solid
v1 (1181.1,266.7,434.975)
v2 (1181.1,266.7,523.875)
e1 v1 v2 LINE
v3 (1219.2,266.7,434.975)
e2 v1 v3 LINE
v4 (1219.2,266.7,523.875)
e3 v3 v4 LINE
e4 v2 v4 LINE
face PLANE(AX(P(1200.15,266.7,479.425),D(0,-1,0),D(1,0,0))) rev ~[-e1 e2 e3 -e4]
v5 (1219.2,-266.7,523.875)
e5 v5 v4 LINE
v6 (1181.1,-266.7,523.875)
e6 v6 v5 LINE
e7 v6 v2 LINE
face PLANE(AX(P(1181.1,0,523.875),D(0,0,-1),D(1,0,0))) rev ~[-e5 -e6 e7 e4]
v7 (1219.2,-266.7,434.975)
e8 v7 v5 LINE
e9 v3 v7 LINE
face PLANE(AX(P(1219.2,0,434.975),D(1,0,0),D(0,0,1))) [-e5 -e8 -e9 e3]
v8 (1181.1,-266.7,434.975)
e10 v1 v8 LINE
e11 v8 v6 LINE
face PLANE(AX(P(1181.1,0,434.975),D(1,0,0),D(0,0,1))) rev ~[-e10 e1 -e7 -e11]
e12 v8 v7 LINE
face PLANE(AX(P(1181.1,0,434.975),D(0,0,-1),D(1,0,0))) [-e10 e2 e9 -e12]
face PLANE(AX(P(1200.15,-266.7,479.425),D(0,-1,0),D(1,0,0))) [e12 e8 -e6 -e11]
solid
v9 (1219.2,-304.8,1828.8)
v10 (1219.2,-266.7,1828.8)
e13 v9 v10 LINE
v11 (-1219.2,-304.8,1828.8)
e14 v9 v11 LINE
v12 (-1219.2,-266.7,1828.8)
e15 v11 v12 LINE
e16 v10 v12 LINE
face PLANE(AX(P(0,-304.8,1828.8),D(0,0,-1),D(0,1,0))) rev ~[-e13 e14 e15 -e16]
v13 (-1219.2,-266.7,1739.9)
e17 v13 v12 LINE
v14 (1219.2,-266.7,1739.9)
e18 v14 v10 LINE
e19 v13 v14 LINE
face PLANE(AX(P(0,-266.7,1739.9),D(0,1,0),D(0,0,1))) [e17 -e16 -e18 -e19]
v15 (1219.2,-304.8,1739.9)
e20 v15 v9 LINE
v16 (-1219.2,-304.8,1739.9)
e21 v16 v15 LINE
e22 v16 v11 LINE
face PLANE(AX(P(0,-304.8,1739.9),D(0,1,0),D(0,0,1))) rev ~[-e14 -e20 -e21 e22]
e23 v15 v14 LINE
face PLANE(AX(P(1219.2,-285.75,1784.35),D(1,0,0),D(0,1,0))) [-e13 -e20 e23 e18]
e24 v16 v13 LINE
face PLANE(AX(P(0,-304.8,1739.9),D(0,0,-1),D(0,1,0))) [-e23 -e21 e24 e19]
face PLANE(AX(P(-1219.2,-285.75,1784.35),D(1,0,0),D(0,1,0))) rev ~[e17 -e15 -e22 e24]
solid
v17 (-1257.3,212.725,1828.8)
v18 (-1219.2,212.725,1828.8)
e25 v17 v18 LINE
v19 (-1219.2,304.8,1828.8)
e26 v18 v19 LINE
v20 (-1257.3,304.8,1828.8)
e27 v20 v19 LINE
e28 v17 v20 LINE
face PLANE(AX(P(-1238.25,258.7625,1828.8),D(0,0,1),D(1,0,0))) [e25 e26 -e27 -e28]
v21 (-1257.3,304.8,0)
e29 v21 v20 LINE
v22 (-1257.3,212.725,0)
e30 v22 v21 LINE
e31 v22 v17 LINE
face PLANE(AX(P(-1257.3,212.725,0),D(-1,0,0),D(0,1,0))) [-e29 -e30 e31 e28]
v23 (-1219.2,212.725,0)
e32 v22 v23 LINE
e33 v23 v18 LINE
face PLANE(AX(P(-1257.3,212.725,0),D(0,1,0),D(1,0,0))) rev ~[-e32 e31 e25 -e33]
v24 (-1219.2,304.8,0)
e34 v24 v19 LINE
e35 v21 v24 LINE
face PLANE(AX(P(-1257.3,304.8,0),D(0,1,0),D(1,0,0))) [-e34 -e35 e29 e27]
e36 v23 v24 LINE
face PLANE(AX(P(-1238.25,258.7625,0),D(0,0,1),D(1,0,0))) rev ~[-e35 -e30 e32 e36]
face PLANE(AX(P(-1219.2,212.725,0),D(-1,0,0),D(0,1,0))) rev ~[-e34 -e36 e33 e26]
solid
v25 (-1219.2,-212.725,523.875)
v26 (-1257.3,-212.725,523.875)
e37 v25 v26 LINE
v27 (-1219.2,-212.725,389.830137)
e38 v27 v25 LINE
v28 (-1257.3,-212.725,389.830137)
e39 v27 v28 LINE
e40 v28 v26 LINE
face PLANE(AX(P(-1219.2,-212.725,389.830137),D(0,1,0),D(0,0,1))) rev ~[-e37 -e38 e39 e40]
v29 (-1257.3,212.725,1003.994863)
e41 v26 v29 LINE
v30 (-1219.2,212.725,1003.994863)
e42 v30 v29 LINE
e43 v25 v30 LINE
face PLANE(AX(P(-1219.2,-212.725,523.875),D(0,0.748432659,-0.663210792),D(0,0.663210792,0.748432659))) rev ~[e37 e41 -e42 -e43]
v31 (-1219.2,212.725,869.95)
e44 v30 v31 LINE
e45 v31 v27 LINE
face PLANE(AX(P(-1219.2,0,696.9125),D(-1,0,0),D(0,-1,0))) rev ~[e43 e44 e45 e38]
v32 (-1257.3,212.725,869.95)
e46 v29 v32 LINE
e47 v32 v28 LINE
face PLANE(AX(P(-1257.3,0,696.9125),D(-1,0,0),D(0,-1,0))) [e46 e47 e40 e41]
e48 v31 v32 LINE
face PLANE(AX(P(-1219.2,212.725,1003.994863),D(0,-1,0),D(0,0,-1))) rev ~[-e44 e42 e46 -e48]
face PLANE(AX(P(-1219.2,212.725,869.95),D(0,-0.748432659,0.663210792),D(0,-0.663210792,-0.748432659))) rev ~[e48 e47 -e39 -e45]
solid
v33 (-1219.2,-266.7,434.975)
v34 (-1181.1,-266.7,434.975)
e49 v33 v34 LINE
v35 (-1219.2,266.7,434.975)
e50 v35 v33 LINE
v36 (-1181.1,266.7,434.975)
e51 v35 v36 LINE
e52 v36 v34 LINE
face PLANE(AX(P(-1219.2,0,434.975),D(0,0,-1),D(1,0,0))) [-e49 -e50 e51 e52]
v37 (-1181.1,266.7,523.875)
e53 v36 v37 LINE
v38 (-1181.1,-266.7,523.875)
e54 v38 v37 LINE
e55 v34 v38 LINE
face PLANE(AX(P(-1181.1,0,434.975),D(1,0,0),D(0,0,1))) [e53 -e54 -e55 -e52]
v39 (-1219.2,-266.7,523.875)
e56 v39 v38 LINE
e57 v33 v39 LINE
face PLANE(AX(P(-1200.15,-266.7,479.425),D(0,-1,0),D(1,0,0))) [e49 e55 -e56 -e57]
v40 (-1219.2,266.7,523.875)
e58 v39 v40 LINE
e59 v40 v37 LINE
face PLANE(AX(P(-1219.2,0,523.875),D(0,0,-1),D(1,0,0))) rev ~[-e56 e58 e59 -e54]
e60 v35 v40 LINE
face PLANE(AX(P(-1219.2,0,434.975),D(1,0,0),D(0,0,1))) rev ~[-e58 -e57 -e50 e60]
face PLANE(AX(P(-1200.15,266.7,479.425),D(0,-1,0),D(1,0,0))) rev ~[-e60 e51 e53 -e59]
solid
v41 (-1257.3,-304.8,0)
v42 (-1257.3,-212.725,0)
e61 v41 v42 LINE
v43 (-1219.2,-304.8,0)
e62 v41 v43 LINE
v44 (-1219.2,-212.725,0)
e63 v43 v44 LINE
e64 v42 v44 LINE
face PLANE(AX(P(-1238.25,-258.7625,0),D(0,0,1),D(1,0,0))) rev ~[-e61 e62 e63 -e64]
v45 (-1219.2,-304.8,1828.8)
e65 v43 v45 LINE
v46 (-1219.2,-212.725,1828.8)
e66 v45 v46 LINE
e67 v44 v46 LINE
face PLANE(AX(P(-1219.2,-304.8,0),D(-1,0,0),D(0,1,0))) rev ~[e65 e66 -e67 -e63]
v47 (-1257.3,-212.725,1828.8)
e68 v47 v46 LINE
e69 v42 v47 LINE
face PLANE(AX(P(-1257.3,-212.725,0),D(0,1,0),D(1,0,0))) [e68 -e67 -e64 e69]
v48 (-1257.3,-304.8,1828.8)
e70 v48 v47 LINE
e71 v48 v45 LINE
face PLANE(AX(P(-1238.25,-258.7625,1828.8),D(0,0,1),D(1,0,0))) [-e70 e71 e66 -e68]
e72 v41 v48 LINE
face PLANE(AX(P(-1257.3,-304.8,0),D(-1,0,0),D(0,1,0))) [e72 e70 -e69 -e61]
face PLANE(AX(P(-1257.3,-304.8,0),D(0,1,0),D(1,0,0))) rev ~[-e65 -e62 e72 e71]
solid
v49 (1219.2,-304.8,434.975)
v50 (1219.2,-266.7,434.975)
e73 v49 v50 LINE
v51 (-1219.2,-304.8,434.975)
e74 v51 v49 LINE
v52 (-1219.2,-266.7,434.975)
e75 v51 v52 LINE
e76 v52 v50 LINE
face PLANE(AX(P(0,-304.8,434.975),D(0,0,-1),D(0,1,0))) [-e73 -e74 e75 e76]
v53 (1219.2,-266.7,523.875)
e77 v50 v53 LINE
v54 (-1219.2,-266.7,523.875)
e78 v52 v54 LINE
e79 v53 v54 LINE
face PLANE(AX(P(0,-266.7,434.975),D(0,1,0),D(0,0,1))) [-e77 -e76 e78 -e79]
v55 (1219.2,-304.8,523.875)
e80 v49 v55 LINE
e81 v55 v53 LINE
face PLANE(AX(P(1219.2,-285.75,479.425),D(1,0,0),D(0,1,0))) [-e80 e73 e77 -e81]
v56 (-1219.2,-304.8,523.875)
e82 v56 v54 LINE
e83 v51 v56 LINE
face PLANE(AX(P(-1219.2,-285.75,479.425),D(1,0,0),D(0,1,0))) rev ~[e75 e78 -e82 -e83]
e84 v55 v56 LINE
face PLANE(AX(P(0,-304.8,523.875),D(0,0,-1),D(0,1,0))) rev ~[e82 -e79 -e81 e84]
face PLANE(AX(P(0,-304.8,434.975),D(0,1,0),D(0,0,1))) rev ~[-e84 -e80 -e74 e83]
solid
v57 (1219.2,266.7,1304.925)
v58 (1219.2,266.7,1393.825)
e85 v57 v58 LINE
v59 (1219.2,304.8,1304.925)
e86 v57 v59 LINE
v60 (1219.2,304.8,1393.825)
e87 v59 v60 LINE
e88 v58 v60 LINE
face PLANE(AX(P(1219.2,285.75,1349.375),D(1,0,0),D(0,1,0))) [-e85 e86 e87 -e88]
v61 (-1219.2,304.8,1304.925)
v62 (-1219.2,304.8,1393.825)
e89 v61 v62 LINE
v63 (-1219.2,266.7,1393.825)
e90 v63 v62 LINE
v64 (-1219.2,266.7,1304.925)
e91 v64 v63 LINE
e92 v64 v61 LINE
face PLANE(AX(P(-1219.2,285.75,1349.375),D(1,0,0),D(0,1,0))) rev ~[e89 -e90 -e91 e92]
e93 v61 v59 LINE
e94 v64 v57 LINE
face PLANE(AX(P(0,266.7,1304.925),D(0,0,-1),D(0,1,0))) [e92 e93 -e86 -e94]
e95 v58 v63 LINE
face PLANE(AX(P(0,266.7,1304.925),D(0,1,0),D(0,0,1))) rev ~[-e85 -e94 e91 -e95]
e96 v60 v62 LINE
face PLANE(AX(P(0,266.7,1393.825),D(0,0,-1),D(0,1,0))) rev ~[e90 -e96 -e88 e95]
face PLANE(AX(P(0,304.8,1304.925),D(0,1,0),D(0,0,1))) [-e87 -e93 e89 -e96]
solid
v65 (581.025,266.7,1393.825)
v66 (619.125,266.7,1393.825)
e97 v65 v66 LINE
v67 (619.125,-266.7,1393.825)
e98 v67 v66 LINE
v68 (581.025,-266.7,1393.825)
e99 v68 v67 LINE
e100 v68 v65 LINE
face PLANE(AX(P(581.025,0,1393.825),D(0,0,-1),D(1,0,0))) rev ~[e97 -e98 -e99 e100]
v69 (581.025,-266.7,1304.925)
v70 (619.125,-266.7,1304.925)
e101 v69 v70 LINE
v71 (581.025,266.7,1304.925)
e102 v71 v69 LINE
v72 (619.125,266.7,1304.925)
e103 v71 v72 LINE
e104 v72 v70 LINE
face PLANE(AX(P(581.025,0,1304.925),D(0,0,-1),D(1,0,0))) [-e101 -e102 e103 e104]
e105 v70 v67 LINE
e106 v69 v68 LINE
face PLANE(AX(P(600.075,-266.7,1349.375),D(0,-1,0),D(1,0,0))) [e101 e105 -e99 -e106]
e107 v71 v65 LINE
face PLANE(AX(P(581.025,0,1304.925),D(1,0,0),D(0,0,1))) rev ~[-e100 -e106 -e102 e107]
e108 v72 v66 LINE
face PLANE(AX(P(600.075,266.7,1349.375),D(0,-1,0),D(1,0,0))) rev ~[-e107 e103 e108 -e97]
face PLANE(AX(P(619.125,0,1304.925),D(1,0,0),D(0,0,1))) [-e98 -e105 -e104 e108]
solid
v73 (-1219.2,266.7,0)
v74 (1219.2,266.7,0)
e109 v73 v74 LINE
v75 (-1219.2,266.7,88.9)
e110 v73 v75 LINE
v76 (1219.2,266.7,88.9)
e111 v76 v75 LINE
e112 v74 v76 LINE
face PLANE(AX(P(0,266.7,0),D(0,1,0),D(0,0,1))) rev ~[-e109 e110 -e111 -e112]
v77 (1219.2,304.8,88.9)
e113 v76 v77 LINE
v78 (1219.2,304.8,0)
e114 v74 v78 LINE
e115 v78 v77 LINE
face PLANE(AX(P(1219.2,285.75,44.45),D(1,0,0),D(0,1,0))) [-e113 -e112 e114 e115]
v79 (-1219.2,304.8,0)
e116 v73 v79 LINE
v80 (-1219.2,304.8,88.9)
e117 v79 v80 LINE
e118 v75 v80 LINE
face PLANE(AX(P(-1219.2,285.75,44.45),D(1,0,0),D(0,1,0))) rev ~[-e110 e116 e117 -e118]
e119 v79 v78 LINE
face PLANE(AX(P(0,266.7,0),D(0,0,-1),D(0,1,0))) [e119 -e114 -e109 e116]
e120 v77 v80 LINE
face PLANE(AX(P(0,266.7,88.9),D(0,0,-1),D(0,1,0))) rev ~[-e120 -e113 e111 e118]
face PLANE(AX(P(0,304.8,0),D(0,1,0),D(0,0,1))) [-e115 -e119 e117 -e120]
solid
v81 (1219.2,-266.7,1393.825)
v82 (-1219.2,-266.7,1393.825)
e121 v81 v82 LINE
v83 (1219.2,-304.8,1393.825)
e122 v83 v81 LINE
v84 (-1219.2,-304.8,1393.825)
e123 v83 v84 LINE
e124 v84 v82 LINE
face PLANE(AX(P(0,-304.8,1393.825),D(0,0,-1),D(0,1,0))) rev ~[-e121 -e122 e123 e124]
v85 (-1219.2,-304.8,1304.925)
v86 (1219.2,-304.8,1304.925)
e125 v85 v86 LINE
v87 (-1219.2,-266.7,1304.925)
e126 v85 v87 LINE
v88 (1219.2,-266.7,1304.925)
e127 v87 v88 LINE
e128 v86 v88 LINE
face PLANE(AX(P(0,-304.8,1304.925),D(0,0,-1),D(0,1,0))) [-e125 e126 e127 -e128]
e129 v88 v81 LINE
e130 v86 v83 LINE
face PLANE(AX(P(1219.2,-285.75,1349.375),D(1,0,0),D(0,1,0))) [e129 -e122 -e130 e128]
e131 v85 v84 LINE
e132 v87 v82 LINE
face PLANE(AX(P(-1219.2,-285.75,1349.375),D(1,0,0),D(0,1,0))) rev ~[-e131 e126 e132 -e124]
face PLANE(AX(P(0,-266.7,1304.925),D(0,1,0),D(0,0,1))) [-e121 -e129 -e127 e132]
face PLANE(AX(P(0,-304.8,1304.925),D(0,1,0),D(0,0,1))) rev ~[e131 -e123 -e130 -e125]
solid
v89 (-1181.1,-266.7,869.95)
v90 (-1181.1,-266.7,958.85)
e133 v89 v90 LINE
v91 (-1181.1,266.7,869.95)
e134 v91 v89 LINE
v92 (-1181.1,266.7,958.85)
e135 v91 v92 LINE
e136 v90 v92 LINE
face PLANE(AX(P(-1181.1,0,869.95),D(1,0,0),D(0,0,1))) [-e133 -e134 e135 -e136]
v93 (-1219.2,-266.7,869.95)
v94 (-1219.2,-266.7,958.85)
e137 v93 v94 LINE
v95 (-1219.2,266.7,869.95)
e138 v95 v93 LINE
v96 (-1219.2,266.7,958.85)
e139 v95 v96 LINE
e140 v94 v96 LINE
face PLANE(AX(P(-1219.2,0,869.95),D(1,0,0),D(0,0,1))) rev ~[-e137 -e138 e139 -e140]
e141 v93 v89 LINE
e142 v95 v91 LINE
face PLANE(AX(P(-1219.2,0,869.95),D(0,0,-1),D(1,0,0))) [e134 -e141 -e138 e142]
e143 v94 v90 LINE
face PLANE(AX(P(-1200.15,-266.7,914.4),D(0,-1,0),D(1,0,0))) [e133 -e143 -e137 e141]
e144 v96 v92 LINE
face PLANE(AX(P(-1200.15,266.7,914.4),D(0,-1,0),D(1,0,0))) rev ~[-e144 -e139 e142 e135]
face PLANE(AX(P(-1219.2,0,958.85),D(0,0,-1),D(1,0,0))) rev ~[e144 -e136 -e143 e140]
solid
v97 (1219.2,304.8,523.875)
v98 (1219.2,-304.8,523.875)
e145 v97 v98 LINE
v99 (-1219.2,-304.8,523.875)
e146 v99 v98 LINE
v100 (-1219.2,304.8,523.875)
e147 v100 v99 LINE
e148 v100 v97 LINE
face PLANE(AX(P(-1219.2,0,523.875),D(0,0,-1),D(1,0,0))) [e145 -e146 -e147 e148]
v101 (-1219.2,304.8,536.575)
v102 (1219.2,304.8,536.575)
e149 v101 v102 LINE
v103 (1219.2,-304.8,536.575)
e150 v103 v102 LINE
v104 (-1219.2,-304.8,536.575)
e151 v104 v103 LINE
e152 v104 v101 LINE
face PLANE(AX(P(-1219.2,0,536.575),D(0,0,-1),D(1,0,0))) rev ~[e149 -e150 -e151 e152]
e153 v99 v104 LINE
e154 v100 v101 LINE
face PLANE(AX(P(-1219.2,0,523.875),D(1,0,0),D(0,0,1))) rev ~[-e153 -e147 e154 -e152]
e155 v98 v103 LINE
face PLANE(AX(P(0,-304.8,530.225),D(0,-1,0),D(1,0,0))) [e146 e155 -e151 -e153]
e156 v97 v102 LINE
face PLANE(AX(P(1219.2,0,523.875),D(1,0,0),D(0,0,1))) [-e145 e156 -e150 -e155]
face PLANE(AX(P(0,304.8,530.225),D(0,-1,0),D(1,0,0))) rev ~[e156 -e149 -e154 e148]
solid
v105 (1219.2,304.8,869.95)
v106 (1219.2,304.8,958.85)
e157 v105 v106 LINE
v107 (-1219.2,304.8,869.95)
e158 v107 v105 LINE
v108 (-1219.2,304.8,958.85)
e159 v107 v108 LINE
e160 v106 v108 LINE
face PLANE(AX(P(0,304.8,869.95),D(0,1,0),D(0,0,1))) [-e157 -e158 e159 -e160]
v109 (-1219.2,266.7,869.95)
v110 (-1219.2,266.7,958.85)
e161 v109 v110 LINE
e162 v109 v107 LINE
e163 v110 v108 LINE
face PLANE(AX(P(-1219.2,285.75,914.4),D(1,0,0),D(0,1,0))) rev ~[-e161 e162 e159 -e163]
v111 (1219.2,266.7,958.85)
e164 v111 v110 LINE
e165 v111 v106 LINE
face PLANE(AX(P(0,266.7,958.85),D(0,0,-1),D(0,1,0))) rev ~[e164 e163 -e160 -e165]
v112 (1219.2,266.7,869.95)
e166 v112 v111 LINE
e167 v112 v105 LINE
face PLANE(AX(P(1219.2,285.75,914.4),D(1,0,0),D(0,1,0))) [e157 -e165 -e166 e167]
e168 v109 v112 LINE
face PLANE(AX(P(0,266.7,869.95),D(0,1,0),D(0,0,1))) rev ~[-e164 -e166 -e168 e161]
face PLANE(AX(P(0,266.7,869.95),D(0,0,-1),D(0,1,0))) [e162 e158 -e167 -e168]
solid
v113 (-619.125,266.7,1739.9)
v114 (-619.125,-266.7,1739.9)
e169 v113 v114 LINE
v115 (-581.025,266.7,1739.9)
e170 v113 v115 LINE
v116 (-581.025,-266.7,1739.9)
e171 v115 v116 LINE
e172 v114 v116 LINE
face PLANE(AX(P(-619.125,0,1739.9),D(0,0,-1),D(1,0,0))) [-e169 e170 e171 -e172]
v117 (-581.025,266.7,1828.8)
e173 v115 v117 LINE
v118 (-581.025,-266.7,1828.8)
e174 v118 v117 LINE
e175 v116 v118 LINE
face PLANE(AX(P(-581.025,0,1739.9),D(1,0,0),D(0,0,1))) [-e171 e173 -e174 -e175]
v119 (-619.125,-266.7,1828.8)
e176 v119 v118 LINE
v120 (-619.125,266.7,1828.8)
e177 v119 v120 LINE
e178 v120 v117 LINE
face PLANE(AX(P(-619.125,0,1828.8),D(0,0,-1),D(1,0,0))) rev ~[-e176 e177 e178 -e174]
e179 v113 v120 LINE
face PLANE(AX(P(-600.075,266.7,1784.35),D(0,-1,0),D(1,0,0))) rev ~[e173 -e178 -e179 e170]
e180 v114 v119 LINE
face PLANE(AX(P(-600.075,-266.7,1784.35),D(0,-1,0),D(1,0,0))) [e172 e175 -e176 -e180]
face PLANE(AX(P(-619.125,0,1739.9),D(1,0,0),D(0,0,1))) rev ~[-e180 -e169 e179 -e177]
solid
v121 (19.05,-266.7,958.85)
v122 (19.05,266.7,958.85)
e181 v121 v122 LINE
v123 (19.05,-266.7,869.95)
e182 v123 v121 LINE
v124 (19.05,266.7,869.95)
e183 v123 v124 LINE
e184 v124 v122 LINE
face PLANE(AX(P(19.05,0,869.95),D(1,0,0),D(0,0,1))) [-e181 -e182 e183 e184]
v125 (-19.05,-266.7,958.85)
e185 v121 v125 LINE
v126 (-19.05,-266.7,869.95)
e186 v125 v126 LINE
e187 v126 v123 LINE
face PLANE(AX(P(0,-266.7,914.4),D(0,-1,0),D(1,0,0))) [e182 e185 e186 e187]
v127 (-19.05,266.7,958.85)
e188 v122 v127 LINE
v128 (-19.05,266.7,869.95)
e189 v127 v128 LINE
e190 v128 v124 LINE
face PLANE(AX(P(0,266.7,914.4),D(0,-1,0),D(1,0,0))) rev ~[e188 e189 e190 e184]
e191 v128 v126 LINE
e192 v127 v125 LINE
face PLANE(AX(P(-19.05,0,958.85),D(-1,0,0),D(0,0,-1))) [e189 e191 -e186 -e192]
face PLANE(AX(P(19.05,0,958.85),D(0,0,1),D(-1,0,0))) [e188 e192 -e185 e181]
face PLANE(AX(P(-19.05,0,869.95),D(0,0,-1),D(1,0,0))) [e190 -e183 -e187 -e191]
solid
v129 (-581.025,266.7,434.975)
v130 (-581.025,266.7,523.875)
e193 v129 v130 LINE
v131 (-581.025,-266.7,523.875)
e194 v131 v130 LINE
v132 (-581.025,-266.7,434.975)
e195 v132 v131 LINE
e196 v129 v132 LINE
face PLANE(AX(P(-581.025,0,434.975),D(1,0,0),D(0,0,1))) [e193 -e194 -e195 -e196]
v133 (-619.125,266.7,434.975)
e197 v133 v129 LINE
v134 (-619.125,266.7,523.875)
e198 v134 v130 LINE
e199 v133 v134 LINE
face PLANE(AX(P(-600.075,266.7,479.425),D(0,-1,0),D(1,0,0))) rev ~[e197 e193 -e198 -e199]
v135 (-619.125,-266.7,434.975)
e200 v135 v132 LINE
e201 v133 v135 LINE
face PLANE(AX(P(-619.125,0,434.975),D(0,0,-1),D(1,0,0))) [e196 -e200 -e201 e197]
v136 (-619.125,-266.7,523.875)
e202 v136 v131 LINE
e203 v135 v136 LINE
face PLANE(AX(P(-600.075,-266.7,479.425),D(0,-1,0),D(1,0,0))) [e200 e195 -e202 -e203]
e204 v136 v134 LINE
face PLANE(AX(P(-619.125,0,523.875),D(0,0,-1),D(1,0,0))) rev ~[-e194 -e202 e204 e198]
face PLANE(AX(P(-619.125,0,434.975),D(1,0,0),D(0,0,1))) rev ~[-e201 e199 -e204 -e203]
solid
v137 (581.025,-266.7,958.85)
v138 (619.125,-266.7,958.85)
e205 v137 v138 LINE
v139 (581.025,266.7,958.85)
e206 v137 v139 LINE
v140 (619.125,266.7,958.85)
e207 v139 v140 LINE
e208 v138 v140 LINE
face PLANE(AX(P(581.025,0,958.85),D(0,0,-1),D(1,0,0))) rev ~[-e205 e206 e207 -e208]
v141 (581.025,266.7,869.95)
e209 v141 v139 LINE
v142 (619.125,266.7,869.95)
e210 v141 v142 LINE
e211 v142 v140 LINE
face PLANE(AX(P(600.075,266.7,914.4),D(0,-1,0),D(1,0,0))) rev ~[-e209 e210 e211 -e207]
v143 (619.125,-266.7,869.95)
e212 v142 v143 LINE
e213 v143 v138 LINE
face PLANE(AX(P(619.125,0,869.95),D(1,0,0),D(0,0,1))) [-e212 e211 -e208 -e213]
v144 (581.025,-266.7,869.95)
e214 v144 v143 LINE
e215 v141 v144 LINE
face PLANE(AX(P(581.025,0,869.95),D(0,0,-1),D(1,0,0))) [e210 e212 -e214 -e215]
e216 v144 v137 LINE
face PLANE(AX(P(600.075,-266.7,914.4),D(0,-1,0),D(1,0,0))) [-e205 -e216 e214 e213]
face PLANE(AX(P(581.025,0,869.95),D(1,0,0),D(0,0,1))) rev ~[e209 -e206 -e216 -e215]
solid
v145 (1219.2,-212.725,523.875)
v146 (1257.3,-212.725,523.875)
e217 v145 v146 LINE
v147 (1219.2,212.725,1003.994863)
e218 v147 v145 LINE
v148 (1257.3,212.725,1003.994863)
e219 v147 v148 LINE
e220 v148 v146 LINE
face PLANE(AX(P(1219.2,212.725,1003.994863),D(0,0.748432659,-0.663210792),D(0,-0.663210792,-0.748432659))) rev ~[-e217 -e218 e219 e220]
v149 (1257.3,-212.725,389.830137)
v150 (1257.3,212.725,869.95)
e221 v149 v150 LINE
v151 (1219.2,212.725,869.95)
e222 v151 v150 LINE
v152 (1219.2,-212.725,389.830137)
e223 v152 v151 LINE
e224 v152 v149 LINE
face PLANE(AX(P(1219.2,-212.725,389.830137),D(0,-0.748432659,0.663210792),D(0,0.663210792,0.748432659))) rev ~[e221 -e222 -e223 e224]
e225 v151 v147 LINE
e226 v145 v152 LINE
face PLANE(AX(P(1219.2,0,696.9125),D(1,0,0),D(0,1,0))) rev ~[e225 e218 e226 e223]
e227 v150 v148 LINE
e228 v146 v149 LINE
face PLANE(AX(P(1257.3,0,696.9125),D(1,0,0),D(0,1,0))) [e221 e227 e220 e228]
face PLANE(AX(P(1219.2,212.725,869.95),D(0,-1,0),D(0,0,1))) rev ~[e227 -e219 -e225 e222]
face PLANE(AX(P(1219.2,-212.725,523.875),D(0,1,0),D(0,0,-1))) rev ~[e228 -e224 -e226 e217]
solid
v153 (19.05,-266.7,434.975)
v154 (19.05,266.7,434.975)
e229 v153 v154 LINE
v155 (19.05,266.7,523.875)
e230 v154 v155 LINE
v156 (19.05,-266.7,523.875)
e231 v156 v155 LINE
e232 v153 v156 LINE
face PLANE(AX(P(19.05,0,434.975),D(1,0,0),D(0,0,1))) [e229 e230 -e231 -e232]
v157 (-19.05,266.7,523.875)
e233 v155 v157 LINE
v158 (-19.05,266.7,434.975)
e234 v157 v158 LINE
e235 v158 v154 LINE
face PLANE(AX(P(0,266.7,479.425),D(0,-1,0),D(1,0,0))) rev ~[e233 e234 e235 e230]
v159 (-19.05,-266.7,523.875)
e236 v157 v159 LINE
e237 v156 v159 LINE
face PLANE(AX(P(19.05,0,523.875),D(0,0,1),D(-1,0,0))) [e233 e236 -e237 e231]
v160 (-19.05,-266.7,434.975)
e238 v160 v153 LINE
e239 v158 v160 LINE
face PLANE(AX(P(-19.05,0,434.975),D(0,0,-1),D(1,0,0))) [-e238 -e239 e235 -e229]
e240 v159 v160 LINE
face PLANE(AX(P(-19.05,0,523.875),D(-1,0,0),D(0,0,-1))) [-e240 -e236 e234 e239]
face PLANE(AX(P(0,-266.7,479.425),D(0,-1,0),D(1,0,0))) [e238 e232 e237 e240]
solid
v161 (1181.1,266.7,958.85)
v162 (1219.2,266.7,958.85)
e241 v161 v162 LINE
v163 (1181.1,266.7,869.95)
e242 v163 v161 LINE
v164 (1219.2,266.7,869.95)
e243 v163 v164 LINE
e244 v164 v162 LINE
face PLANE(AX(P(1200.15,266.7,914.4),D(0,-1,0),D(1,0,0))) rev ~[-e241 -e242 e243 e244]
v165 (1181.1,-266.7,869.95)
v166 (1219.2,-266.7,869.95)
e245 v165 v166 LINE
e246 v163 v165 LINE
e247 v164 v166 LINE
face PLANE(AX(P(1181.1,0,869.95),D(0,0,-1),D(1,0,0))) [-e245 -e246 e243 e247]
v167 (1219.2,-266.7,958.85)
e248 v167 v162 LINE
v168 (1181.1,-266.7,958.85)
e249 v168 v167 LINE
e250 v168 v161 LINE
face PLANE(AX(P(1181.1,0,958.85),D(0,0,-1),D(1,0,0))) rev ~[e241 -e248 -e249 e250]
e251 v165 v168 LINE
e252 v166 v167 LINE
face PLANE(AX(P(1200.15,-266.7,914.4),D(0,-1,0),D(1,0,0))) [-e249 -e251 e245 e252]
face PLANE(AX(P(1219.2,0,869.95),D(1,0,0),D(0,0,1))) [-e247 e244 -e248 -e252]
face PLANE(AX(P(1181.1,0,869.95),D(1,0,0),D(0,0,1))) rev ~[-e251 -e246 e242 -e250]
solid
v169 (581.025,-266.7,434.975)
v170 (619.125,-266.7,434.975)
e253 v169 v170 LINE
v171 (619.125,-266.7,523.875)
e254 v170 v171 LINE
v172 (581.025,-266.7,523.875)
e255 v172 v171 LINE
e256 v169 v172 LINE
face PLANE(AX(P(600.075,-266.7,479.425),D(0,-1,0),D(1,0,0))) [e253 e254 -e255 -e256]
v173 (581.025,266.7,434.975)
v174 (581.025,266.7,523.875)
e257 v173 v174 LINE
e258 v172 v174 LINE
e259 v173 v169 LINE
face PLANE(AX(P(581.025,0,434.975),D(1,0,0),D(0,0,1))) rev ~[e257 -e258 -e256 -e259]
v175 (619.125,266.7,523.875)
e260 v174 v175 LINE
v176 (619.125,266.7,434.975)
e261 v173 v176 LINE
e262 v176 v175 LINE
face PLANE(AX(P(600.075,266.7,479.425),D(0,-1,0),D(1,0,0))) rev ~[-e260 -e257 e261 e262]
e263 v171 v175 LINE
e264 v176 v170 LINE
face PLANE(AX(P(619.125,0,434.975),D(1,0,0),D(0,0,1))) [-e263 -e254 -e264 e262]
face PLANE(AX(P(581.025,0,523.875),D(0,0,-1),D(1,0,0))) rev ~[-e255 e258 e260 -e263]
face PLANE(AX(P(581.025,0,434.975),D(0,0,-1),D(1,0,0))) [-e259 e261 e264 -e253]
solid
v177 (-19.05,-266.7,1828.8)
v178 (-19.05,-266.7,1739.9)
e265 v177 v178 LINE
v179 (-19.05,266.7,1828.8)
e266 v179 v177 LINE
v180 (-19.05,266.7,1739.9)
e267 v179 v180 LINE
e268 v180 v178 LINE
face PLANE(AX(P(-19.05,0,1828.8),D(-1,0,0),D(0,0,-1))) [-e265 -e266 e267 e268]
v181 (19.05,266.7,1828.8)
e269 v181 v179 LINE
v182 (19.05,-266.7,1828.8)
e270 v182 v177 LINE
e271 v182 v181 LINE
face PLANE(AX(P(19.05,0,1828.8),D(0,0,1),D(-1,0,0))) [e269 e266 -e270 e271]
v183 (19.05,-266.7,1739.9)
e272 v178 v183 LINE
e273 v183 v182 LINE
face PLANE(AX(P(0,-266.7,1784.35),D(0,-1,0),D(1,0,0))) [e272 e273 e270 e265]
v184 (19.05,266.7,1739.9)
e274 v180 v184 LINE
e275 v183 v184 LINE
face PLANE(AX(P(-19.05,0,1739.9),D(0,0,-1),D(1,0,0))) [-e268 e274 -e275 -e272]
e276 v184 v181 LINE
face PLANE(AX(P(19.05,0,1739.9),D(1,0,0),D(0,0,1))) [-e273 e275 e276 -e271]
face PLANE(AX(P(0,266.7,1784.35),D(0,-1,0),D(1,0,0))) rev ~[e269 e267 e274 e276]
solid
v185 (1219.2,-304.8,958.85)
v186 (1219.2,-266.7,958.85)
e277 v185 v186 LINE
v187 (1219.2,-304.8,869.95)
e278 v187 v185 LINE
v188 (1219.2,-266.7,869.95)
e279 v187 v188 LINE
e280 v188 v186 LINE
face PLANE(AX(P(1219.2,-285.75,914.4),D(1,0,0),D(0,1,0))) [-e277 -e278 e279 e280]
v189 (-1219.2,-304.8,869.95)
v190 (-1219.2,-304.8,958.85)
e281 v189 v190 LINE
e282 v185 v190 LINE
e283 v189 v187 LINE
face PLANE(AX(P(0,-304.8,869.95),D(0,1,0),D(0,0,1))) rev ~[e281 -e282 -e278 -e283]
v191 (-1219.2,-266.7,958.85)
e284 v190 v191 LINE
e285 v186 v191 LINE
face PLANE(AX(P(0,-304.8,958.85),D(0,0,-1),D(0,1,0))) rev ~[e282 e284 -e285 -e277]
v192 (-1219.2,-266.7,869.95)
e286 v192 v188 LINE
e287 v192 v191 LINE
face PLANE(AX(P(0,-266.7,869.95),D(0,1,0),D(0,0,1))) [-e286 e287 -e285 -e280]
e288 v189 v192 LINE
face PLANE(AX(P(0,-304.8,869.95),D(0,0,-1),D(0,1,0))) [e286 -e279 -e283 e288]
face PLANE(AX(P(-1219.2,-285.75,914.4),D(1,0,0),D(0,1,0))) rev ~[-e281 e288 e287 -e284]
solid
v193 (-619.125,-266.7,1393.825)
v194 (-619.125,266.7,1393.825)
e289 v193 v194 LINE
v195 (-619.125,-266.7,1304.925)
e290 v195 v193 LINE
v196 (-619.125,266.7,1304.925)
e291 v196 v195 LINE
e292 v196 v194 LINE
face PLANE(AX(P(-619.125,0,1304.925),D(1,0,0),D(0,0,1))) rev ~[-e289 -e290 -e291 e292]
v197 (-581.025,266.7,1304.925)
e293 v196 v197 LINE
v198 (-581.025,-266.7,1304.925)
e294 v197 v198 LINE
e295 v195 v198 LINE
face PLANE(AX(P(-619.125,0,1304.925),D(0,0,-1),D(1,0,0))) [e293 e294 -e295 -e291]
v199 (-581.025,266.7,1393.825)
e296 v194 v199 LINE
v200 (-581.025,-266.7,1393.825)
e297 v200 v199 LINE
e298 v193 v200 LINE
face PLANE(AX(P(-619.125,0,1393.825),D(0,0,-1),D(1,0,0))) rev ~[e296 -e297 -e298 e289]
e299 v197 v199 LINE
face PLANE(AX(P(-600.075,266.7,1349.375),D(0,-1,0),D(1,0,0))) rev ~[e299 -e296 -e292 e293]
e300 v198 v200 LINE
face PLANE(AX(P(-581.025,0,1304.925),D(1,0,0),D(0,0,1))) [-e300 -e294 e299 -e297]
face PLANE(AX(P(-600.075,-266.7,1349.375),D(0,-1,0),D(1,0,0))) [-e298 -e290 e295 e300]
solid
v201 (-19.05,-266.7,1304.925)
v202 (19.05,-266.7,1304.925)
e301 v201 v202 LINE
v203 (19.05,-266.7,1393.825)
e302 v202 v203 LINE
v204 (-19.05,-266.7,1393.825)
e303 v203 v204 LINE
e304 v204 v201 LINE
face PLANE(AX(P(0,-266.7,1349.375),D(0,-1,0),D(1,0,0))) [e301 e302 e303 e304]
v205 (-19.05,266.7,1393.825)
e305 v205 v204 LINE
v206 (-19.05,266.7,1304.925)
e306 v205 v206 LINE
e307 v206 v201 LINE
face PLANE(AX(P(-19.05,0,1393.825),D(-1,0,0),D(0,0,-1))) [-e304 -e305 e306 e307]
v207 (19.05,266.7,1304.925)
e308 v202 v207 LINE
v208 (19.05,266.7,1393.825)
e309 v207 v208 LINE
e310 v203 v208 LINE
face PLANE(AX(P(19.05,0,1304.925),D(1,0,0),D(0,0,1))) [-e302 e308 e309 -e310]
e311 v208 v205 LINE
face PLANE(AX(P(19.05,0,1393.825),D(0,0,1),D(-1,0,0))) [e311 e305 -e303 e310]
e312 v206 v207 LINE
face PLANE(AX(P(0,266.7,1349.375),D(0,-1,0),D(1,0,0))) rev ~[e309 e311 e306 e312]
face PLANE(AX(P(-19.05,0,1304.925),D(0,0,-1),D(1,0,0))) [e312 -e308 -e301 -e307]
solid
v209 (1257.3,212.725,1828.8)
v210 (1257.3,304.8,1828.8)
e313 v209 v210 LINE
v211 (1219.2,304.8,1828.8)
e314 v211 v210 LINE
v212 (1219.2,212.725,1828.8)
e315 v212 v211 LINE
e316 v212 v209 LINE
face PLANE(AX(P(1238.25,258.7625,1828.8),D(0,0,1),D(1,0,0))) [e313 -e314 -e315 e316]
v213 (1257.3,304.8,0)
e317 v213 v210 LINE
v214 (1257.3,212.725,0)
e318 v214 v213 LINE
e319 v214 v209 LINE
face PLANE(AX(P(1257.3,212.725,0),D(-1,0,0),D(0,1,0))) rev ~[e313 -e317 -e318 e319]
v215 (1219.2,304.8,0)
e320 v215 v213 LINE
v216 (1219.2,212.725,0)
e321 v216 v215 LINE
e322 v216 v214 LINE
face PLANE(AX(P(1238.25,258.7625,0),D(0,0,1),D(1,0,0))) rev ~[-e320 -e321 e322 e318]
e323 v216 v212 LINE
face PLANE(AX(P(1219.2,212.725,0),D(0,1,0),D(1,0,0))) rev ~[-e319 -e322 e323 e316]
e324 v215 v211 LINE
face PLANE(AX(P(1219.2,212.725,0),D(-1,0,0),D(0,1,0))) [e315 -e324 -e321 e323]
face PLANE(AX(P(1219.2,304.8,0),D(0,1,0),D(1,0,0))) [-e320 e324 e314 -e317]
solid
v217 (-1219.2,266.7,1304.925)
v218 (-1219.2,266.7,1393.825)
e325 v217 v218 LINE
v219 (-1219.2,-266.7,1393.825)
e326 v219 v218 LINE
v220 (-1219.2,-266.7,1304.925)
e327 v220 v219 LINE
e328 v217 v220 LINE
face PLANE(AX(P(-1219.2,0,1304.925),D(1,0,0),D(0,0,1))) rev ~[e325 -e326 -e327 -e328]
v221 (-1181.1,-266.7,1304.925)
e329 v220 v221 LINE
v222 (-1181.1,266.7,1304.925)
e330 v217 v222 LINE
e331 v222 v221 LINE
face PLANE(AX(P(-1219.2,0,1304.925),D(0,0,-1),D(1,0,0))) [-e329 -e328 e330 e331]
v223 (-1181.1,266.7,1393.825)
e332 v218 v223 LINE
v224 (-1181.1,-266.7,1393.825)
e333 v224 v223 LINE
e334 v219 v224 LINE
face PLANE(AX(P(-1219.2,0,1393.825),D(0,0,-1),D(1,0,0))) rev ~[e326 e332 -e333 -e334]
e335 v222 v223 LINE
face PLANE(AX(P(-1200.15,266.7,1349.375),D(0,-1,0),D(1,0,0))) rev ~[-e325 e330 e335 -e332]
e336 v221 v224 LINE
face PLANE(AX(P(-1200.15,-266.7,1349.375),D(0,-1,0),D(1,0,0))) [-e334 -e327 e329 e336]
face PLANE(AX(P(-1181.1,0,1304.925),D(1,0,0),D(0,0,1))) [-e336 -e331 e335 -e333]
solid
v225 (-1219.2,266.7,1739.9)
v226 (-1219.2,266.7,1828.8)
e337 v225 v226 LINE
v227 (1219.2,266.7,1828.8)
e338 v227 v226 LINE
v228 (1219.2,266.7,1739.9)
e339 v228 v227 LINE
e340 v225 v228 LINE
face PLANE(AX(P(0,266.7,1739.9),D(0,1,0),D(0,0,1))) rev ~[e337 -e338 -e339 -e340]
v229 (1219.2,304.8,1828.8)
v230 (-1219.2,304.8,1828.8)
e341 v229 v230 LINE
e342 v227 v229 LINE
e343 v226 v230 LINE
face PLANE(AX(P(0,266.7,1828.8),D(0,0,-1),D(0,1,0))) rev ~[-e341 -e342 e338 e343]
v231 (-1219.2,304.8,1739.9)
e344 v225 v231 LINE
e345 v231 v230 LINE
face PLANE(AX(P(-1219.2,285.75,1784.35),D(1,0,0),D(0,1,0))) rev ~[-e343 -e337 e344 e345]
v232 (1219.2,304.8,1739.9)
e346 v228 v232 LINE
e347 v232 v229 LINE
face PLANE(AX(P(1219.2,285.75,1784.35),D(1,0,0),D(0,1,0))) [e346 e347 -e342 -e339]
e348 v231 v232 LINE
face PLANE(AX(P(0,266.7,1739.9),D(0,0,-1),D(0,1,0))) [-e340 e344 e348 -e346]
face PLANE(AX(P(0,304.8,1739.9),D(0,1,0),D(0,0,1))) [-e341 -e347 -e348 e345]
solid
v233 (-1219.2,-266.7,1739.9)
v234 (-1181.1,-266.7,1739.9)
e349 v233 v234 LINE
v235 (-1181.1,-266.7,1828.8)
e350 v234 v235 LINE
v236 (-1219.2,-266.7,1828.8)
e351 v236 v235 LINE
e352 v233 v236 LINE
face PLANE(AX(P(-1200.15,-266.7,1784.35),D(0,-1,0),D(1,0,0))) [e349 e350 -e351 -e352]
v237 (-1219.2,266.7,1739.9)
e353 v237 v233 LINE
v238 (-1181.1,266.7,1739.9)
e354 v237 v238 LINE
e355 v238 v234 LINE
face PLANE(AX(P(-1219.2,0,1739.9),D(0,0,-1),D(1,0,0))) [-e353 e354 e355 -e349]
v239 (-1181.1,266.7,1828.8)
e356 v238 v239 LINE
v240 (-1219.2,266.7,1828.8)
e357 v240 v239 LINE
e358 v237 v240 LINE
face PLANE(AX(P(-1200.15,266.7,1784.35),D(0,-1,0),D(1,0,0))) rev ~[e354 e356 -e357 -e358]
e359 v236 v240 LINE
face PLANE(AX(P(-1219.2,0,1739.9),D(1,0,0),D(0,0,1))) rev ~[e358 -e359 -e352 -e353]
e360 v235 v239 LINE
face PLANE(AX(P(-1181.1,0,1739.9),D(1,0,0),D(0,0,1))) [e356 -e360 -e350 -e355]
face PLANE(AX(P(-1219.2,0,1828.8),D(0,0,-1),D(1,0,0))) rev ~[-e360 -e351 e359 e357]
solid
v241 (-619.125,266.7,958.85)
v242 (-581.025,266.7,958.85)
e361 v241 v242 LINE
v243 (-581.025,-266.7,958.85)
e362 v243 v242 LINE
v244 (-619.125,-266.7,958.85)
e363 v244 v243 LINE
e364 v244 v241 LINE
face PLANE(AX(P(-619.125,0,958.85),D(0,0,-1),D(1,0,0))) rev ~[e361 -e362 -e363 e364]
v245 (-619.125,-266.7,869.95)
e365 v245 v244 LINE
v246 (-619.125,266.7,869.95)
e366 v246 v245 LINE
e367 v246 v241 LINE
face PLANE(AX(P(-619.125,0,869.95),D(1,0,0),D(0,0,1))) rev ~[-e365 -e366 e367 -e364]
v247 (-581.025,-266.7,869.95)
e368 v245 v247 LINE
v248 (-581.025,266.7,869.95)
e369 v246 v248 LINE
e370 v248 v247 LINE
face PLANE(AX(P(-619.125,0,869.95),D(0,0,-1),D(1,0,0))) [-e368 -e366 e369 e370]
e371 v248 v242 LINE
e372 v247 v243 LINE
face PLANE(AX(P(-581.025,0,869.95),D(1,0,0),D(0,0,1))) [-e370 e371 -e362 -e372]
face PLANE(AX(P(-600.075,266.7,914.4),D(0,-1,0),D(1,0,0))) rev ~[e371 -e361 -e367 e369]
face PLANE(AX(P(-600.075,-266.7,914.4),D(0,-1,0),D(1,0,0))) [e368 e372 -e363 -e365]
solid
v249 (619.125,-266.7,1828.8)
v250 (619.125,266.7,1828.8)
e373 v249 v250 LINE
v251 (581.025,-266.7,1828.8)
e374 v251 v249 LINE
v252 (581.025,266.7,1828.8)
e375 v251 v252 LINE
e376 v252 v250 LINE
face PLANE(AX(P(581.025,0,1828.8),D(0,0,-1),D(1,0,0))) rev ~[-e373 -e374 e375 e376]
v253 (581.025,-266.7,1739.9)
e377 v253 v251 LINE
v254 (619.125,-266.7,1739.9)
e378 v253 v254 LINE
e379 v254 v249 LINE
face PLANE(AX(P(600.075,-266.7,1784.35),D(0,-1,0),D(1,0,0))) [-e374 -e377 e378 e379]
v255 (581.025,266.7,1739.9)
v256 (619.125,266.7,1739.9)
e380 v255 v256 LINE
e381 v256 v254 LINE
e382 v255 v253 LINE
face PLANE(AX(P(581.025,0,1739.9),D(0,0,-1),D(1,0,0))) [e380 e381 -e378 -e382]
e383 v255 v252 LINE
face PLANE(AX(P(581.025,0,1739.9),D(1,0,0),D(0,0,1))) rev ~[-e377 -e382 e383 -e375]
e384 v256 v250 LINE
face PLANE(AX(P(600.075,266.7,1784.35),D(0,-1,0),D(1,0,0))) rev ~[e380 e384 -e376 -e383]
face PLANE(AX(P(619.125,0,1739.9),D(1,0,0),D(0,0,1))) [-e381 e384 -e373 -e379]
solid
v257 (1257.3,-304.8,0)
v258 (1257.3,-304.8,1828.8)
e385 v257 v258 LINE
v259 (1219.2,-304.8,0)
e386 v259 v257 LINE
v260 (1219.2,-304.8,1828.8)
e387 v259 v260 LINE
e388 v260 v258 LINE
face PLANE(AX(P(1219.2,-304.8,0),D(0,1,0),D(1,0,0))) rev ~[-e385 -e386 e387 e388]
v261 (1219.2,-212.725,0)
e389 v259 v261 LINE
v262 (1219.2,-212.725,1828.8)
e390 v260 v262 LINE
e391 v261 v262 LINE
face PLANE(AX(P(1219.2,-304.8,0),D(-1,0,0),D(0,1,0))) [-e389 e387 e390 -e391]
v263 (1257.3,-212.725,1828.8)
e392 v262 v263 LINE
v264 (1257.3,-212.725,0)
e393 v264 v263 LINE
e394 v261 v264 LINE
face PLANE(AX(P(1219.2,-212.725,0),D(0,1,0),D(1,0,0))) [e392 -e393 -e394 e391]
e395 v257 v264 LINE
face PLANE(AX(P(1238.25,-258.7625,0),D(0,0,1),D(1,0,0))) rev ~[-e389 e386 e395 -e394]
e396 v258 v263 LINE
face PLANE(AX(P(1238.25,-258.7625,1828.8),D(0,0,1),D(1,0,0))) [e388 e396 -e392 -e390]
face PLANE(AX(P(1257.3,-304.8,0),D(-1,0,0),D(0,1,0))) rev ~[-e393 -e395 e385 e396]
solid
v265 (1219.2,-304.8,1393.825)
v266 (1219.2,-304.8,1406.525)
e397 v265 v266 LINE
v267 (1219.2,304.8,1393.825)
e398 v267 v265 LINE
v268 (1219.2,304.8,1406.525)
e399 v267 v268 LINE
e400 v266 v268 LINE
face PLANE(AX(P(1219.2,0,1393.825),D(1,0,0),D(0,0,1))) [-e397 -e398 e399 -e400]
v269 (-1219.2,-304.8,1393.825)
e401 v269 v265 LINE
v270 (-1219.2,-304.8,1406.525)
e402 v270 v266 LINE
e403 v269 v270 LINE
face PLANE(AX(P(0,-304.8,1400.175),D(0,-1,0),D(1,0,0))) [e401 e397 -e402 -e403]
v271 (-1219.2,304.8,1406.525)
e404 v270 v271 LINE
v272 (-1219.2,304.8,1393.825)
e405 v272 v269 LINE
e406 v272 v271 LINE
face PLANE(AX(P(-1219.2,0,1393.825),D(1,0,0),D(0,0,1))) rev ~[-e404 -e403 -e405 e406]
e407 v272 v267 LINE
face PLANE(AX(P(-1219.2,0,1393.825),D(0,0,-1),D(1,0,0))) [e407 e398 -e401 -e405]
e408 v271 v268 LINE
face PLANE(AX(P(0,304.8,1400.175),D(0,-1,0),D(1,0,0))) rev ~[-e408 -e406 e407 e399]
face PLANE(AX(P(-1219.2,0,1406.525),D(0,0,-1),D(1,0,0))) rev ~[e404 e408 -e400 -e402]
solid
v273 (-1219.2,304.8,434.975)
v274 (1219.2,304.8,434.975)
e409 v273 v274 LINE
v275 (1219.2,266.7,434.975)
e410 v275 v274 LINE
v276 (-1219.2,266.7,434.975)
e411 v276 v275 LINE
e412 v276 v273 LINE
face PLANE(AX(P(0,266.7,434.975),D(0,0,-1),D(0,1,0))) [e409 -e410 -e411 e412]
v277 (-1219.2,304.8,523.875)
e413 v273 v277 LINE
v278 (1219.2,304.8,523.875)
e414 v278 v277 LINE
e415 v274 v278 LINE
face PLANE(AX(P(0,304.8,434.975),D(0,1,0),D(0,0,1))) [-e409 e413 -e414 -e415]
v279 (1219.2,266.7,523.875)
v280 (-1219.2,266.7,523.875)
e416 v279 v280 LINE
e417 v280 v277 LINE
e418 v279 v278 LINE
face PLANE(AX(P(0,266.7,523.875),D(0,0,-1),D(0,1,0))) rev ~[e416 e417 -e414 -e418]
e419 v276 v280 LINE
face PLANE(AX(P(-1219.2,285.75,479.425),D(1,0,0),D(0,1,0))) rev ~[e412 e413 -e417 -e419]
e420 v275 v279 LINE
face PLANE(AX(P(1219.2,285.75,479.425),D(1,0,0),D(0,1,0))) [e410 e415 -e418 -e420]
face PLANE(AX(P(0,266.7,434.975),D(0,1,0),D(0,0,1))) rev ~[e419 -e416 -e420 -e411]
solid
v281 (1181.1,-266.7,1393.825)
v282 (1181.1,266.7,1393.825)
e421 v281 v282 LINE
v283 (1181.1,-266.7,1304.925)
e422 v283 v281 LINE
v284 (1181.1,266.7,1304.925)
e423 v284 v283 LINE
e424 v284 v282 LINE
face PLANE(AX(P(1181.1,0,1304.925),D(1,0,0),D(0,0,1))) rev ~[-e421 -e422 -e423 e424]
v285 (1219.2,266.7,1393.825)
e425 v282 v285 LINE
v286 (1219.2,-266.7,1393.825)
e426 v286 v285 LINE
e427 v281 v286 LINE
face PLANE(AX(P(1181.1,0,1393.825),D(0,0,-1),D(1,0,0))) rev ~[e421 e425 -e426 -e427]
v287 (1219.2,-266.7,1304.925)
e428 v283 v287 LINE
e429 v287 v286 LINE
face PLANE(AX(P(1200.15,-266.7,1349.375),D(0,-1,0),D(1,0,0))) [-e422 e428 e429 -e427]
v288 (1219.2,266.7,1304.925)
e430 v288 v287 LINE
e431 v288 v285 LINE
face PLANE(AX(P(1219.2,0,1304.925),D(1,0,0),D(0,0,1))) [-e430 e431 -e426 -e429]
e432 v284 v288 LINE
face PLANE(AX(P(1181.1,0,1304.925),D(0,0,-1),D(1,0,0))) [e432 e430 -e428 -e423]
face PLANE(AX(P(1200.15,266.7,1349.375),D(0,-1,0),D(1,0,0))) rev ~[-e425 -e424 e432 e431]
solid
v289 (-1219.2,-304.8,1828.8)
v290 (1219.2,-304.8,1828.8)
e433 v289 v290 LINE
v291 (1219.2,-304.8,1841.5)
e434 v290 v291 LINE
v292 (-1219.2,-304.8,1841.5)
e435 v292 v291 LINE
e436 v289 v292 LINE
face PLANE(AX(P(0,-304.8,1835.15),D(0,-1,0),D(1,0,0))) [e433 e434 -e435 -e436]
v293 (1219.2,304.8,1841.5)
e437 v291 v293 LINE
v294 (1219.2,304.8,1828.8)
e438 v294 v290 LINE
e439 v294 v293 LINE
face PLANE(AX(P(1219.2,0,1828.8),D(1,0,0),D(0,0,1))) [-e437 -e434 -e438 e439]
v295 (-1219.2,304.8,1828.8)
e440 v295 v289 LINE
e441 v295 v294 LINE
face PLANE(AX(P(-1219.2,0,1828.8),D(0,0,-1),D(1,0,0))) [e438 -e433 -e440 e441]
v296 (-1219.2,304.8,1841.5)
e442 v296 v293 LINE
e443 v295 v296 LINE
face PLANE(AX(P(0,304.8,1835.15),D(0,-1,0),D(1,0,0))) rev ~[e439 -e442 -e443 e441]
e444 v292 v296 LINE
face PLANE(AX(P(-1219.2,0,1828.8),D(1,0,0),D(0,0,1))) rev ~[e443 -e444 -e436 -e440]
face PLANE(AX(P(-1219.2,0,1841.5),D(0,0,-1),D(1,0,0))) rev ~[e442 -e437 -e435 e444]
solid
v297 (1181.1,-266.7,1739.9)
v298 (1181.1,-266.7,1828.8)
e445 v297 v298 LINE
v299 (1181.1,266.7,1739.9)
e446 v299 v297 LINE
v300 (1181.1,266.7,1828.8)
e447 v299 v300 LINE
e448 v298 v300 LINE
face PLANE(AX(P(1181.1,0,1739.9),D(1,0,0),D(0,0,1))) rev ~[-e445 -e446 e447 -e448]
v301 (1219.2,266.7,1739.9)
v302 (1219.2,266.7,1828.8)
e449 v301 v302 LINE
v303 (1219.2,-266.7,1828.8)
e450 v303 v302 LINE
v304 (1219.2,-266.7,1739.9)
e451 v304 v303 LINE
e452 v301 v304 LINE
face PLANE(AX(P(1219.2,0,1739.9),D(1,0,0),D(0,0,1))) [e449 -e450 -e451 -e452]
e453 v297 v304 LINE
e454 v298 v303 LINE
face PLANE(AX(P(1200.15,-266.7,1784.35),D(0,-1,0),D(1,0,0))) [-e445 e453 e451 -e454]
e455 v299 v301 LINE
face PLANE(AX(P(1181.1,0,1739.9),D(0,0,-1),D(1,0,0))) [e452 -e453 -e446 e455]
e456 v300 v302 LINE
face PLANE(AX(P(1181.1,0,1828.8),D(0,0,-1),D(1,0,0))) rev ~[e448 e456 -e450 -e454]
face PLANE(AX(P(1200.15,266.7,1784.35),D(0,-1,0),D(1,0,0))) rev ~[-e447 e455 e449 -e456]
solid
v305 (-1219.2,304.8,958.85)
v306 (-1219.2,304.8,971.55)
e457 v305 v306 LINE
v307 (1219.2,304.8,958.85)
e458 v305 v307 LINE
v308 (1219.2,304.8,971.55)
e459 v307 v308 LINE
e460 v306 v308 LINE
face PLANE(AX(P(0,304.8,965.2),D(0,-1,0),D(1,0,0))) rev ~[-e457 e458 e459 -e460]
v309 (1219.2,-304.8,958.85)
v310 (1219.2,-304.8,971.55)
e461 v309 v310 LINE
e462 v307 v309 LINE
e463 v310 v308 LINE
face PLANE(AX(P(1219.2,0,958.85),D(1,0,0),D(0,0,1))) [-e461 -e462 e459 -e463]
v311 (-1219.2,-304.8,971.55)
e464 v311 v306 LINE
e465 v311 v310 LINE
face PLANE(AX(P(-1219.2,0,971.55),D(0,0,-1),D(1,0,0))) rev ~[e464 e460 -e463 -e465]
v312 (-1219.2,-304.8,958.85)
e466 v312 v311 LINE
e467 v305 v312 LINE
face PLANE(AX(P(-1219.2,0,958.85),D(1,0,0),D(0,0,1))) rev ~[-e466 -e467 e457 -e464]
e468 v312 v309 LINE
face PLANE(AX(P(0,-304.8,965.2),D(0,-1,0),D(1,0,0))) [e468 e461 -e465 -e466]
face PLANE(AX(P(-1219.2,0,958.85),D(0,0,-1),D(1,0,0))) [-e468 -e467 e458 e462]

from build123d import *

# Parameters (mm, degrees)
F1_W          = 38.1
F1_H          = 92.075
F2_DEPTH      = 1828.8
F3_W          = 38.1
F3_H          = 88.9
F4_DEPTH      = 1219.2
F4_DEPTH_BACK = 1219.2
F5_W          = 38.1
F5_H          = 88.9
F6_DEPTH      = 266.7
F6_DEPTH_BACK = 266.7
F7_W          = 2438.4
F7_H          = 12.7
F8_DEPTH      = 304.8
F8_DEPTH_BACK = 304.8
F10_DEPTH     = 38.1
F12_DEPTH     = 38.1


with BuildPart() as f2:
    # F1 (on Top) → F2 (new body)
    with BuildSketch(Plane.XY):
        with Locations((-1238.25, -258.7625)):
            Rectangle(F1_W, F1_H)
        with Locations((-1238.25, 258.7625)):
            Rectangle(F1_W, F1_H)
        with Locations((1238.25, -258.7625)):
            Rectangle(F1_W, F1_H)
        with Locations((1238.25, 258.7625)):
            Rectangle(F1_W, F1_H)
    extrude(amount=F2_DEPTH)


with BuildPart() as f4:
    # F3 (on Right) → F4 (new body, two sides)
    with BuildSketch(Plane.YZ) as f4_sk:
        with Locations((285.75, 1784.35)):
            Rectangle(F3_W, F3_H)
        with Locations((285.75, 1349.375)):
            Rectangle(F3_W, F3_H)
        with Locations((285.75, 914.4)):
            Rectangle(F3_W, F3_H)
        with Locations((285.75, 479.425)):
            Rectangle(F3_W, F3_H)
        with Locations((285.75, 44.45)):
            Rectangle(F3_W, F3_H)
        with Locations((-285.75, 1784.35)):
            Rectangle(F3_W, F3_H)
        with Locations((-285.75, 479.425)):
            Rectangle(F3_W, F3_H)
        with Locations((-285.75, 1349.375)):
            Rectangle(F3_W, F3_H)
        with Locations((-285.75, 914.4)):
            Rectangle(F3_W, F3_H)
    extrude(amount=F4_DEPTH)
    extrude(f4_sk.sketch, amount=-F4_DEPTH_BACK)


with BuildPart() as f6:
    # F5 (on Front) → F6 (new body, two sides)
    with BuildSketch(Plane.XZ) as f6_sk:
        with Locations((-1200.15, 914.4)):
            Rectangle(F5_W, F5_H)
        with Locations((-1200.15, 1349.375)):
            Rectangle(F5_W, F5_H)
        with Locations((-1200.15, 1784.35)):
            Rectangle(F5_W, F5_H)
        with Locations((-1200.15, 479.425)):
            Rectangle(F5_W, F5_H)
        with Locations((-600.075, 1784.35)):
            Rectangle(F5_W, F5_H)
        with Locations((-600.075, 1349.375)):
            Rectangle(F5_W, F5_H)
        with Locations((-600.075, 914.4)):
            Rectangle(F5_W, F5_H)
        with Locations((-600.075, 479.425)):
            Rectangle(F5_W, F5_H)
        Polygon((19.05, 1828.8), (0, 1828.8), (-19.05, 1828.8), (-19.05, 1739.9), (0, 1739.9), (19.05, 1739.9), align=None)
        Polygon((19.05, 1393.825), (0, 1393.825), (-19.05, 1393.825), (-19.05, 1304.925), (0, 1304.925), (19.05, 1304.925), align=None)
        Polygon((19.05, 958.85), (0, 958.85), (-19.05, 958.85), (-19.05, 869.95), (0, 869.95), (19.05, 869.95), align=None)
        Polygon((19.05, 523.875), (0, 523.875), (-19.05, 523.875), (-19.05, 434.975), (0, 434.975), (19.05, 434.975), align=None)
        with Locations((600.075, 1784.35)):
            Rectangle(F5_W, F5_H)
        with Locations((600.075, 1349.375)):
            Rectangle(F5_W, F5_H)
        with Locations((600.075, 914.4)):
            Rectangle(F5_W, F5_H)
        with Locations((1200.15, 1349.375)):
            Rectangle(F5_W, F5_H)
        with Locations((600.075, 479.425)):
            Rectangle(F5_W, F5_H)
        with Locations((1200.15, 914.4)):
            Rectangle(F5_W, F5_H)
        with Locations((1200.15, 479.425)):
            Rectangle(F5_W, F5_H)
        with Locations((1200.15, 1784.35)):
            Rectangle(F5_W, F5_H)
    extrude(amount=F6_DEPTH)
    extrude(f6_sk.sketch, amount=-F6_DEPTH_BACK)


with BuildPart() as f8:
    # F7 (on Front) → F8 (new body, two sides)
    with BuildSketch(Plane.XZ) as f8_sk:
        with Locations((0, 530.225)):
            Rectangle(F7_W, F7_H)
        with Locations((0, 965.2)):
            Rectangle(F7_W, F7_H)
        with Locations((0, 1400.175)):
            Rectangle(F7_W, F7_H)
        with Locations((0, 1835.15)):
            Rectangle(F7_W, F7_H)
    extrude(amount=F8_DEPTH)
    extrude(f8_sk.sketch, amount=-F8_DEPTH_BACK)


with BuildPart() as f10:
    # F9 (on face) → F10 (new body)
    with BuildSketch(Plane.YZ.offset(1219.2)):
        Polygon((-212.725, 523.875), (-212.725, 389.830137), (212.725, 869.95), (212.725, 1003.994863), align=None)
    extrude(amount=F10_DEPTH)


with BuildPart() as f12:
    # F11 (on face) → F12 (new body)
    with BuildSketch(Plane(origin=(-1219.2, 0, 0), x_dir=(0, -1, 0), z_dir=(-1, 0, 0))):
        Polygon((212.725, 523.875), (-212.725, 1003.994863), (-212.725, 869.95), (212.725, 389.830137), align=None)
    extrude(amount=F12_DEPTH)


solid = Compound([f2.part, f4.part, f6.part, f8.part, f10.part, f12.part])
